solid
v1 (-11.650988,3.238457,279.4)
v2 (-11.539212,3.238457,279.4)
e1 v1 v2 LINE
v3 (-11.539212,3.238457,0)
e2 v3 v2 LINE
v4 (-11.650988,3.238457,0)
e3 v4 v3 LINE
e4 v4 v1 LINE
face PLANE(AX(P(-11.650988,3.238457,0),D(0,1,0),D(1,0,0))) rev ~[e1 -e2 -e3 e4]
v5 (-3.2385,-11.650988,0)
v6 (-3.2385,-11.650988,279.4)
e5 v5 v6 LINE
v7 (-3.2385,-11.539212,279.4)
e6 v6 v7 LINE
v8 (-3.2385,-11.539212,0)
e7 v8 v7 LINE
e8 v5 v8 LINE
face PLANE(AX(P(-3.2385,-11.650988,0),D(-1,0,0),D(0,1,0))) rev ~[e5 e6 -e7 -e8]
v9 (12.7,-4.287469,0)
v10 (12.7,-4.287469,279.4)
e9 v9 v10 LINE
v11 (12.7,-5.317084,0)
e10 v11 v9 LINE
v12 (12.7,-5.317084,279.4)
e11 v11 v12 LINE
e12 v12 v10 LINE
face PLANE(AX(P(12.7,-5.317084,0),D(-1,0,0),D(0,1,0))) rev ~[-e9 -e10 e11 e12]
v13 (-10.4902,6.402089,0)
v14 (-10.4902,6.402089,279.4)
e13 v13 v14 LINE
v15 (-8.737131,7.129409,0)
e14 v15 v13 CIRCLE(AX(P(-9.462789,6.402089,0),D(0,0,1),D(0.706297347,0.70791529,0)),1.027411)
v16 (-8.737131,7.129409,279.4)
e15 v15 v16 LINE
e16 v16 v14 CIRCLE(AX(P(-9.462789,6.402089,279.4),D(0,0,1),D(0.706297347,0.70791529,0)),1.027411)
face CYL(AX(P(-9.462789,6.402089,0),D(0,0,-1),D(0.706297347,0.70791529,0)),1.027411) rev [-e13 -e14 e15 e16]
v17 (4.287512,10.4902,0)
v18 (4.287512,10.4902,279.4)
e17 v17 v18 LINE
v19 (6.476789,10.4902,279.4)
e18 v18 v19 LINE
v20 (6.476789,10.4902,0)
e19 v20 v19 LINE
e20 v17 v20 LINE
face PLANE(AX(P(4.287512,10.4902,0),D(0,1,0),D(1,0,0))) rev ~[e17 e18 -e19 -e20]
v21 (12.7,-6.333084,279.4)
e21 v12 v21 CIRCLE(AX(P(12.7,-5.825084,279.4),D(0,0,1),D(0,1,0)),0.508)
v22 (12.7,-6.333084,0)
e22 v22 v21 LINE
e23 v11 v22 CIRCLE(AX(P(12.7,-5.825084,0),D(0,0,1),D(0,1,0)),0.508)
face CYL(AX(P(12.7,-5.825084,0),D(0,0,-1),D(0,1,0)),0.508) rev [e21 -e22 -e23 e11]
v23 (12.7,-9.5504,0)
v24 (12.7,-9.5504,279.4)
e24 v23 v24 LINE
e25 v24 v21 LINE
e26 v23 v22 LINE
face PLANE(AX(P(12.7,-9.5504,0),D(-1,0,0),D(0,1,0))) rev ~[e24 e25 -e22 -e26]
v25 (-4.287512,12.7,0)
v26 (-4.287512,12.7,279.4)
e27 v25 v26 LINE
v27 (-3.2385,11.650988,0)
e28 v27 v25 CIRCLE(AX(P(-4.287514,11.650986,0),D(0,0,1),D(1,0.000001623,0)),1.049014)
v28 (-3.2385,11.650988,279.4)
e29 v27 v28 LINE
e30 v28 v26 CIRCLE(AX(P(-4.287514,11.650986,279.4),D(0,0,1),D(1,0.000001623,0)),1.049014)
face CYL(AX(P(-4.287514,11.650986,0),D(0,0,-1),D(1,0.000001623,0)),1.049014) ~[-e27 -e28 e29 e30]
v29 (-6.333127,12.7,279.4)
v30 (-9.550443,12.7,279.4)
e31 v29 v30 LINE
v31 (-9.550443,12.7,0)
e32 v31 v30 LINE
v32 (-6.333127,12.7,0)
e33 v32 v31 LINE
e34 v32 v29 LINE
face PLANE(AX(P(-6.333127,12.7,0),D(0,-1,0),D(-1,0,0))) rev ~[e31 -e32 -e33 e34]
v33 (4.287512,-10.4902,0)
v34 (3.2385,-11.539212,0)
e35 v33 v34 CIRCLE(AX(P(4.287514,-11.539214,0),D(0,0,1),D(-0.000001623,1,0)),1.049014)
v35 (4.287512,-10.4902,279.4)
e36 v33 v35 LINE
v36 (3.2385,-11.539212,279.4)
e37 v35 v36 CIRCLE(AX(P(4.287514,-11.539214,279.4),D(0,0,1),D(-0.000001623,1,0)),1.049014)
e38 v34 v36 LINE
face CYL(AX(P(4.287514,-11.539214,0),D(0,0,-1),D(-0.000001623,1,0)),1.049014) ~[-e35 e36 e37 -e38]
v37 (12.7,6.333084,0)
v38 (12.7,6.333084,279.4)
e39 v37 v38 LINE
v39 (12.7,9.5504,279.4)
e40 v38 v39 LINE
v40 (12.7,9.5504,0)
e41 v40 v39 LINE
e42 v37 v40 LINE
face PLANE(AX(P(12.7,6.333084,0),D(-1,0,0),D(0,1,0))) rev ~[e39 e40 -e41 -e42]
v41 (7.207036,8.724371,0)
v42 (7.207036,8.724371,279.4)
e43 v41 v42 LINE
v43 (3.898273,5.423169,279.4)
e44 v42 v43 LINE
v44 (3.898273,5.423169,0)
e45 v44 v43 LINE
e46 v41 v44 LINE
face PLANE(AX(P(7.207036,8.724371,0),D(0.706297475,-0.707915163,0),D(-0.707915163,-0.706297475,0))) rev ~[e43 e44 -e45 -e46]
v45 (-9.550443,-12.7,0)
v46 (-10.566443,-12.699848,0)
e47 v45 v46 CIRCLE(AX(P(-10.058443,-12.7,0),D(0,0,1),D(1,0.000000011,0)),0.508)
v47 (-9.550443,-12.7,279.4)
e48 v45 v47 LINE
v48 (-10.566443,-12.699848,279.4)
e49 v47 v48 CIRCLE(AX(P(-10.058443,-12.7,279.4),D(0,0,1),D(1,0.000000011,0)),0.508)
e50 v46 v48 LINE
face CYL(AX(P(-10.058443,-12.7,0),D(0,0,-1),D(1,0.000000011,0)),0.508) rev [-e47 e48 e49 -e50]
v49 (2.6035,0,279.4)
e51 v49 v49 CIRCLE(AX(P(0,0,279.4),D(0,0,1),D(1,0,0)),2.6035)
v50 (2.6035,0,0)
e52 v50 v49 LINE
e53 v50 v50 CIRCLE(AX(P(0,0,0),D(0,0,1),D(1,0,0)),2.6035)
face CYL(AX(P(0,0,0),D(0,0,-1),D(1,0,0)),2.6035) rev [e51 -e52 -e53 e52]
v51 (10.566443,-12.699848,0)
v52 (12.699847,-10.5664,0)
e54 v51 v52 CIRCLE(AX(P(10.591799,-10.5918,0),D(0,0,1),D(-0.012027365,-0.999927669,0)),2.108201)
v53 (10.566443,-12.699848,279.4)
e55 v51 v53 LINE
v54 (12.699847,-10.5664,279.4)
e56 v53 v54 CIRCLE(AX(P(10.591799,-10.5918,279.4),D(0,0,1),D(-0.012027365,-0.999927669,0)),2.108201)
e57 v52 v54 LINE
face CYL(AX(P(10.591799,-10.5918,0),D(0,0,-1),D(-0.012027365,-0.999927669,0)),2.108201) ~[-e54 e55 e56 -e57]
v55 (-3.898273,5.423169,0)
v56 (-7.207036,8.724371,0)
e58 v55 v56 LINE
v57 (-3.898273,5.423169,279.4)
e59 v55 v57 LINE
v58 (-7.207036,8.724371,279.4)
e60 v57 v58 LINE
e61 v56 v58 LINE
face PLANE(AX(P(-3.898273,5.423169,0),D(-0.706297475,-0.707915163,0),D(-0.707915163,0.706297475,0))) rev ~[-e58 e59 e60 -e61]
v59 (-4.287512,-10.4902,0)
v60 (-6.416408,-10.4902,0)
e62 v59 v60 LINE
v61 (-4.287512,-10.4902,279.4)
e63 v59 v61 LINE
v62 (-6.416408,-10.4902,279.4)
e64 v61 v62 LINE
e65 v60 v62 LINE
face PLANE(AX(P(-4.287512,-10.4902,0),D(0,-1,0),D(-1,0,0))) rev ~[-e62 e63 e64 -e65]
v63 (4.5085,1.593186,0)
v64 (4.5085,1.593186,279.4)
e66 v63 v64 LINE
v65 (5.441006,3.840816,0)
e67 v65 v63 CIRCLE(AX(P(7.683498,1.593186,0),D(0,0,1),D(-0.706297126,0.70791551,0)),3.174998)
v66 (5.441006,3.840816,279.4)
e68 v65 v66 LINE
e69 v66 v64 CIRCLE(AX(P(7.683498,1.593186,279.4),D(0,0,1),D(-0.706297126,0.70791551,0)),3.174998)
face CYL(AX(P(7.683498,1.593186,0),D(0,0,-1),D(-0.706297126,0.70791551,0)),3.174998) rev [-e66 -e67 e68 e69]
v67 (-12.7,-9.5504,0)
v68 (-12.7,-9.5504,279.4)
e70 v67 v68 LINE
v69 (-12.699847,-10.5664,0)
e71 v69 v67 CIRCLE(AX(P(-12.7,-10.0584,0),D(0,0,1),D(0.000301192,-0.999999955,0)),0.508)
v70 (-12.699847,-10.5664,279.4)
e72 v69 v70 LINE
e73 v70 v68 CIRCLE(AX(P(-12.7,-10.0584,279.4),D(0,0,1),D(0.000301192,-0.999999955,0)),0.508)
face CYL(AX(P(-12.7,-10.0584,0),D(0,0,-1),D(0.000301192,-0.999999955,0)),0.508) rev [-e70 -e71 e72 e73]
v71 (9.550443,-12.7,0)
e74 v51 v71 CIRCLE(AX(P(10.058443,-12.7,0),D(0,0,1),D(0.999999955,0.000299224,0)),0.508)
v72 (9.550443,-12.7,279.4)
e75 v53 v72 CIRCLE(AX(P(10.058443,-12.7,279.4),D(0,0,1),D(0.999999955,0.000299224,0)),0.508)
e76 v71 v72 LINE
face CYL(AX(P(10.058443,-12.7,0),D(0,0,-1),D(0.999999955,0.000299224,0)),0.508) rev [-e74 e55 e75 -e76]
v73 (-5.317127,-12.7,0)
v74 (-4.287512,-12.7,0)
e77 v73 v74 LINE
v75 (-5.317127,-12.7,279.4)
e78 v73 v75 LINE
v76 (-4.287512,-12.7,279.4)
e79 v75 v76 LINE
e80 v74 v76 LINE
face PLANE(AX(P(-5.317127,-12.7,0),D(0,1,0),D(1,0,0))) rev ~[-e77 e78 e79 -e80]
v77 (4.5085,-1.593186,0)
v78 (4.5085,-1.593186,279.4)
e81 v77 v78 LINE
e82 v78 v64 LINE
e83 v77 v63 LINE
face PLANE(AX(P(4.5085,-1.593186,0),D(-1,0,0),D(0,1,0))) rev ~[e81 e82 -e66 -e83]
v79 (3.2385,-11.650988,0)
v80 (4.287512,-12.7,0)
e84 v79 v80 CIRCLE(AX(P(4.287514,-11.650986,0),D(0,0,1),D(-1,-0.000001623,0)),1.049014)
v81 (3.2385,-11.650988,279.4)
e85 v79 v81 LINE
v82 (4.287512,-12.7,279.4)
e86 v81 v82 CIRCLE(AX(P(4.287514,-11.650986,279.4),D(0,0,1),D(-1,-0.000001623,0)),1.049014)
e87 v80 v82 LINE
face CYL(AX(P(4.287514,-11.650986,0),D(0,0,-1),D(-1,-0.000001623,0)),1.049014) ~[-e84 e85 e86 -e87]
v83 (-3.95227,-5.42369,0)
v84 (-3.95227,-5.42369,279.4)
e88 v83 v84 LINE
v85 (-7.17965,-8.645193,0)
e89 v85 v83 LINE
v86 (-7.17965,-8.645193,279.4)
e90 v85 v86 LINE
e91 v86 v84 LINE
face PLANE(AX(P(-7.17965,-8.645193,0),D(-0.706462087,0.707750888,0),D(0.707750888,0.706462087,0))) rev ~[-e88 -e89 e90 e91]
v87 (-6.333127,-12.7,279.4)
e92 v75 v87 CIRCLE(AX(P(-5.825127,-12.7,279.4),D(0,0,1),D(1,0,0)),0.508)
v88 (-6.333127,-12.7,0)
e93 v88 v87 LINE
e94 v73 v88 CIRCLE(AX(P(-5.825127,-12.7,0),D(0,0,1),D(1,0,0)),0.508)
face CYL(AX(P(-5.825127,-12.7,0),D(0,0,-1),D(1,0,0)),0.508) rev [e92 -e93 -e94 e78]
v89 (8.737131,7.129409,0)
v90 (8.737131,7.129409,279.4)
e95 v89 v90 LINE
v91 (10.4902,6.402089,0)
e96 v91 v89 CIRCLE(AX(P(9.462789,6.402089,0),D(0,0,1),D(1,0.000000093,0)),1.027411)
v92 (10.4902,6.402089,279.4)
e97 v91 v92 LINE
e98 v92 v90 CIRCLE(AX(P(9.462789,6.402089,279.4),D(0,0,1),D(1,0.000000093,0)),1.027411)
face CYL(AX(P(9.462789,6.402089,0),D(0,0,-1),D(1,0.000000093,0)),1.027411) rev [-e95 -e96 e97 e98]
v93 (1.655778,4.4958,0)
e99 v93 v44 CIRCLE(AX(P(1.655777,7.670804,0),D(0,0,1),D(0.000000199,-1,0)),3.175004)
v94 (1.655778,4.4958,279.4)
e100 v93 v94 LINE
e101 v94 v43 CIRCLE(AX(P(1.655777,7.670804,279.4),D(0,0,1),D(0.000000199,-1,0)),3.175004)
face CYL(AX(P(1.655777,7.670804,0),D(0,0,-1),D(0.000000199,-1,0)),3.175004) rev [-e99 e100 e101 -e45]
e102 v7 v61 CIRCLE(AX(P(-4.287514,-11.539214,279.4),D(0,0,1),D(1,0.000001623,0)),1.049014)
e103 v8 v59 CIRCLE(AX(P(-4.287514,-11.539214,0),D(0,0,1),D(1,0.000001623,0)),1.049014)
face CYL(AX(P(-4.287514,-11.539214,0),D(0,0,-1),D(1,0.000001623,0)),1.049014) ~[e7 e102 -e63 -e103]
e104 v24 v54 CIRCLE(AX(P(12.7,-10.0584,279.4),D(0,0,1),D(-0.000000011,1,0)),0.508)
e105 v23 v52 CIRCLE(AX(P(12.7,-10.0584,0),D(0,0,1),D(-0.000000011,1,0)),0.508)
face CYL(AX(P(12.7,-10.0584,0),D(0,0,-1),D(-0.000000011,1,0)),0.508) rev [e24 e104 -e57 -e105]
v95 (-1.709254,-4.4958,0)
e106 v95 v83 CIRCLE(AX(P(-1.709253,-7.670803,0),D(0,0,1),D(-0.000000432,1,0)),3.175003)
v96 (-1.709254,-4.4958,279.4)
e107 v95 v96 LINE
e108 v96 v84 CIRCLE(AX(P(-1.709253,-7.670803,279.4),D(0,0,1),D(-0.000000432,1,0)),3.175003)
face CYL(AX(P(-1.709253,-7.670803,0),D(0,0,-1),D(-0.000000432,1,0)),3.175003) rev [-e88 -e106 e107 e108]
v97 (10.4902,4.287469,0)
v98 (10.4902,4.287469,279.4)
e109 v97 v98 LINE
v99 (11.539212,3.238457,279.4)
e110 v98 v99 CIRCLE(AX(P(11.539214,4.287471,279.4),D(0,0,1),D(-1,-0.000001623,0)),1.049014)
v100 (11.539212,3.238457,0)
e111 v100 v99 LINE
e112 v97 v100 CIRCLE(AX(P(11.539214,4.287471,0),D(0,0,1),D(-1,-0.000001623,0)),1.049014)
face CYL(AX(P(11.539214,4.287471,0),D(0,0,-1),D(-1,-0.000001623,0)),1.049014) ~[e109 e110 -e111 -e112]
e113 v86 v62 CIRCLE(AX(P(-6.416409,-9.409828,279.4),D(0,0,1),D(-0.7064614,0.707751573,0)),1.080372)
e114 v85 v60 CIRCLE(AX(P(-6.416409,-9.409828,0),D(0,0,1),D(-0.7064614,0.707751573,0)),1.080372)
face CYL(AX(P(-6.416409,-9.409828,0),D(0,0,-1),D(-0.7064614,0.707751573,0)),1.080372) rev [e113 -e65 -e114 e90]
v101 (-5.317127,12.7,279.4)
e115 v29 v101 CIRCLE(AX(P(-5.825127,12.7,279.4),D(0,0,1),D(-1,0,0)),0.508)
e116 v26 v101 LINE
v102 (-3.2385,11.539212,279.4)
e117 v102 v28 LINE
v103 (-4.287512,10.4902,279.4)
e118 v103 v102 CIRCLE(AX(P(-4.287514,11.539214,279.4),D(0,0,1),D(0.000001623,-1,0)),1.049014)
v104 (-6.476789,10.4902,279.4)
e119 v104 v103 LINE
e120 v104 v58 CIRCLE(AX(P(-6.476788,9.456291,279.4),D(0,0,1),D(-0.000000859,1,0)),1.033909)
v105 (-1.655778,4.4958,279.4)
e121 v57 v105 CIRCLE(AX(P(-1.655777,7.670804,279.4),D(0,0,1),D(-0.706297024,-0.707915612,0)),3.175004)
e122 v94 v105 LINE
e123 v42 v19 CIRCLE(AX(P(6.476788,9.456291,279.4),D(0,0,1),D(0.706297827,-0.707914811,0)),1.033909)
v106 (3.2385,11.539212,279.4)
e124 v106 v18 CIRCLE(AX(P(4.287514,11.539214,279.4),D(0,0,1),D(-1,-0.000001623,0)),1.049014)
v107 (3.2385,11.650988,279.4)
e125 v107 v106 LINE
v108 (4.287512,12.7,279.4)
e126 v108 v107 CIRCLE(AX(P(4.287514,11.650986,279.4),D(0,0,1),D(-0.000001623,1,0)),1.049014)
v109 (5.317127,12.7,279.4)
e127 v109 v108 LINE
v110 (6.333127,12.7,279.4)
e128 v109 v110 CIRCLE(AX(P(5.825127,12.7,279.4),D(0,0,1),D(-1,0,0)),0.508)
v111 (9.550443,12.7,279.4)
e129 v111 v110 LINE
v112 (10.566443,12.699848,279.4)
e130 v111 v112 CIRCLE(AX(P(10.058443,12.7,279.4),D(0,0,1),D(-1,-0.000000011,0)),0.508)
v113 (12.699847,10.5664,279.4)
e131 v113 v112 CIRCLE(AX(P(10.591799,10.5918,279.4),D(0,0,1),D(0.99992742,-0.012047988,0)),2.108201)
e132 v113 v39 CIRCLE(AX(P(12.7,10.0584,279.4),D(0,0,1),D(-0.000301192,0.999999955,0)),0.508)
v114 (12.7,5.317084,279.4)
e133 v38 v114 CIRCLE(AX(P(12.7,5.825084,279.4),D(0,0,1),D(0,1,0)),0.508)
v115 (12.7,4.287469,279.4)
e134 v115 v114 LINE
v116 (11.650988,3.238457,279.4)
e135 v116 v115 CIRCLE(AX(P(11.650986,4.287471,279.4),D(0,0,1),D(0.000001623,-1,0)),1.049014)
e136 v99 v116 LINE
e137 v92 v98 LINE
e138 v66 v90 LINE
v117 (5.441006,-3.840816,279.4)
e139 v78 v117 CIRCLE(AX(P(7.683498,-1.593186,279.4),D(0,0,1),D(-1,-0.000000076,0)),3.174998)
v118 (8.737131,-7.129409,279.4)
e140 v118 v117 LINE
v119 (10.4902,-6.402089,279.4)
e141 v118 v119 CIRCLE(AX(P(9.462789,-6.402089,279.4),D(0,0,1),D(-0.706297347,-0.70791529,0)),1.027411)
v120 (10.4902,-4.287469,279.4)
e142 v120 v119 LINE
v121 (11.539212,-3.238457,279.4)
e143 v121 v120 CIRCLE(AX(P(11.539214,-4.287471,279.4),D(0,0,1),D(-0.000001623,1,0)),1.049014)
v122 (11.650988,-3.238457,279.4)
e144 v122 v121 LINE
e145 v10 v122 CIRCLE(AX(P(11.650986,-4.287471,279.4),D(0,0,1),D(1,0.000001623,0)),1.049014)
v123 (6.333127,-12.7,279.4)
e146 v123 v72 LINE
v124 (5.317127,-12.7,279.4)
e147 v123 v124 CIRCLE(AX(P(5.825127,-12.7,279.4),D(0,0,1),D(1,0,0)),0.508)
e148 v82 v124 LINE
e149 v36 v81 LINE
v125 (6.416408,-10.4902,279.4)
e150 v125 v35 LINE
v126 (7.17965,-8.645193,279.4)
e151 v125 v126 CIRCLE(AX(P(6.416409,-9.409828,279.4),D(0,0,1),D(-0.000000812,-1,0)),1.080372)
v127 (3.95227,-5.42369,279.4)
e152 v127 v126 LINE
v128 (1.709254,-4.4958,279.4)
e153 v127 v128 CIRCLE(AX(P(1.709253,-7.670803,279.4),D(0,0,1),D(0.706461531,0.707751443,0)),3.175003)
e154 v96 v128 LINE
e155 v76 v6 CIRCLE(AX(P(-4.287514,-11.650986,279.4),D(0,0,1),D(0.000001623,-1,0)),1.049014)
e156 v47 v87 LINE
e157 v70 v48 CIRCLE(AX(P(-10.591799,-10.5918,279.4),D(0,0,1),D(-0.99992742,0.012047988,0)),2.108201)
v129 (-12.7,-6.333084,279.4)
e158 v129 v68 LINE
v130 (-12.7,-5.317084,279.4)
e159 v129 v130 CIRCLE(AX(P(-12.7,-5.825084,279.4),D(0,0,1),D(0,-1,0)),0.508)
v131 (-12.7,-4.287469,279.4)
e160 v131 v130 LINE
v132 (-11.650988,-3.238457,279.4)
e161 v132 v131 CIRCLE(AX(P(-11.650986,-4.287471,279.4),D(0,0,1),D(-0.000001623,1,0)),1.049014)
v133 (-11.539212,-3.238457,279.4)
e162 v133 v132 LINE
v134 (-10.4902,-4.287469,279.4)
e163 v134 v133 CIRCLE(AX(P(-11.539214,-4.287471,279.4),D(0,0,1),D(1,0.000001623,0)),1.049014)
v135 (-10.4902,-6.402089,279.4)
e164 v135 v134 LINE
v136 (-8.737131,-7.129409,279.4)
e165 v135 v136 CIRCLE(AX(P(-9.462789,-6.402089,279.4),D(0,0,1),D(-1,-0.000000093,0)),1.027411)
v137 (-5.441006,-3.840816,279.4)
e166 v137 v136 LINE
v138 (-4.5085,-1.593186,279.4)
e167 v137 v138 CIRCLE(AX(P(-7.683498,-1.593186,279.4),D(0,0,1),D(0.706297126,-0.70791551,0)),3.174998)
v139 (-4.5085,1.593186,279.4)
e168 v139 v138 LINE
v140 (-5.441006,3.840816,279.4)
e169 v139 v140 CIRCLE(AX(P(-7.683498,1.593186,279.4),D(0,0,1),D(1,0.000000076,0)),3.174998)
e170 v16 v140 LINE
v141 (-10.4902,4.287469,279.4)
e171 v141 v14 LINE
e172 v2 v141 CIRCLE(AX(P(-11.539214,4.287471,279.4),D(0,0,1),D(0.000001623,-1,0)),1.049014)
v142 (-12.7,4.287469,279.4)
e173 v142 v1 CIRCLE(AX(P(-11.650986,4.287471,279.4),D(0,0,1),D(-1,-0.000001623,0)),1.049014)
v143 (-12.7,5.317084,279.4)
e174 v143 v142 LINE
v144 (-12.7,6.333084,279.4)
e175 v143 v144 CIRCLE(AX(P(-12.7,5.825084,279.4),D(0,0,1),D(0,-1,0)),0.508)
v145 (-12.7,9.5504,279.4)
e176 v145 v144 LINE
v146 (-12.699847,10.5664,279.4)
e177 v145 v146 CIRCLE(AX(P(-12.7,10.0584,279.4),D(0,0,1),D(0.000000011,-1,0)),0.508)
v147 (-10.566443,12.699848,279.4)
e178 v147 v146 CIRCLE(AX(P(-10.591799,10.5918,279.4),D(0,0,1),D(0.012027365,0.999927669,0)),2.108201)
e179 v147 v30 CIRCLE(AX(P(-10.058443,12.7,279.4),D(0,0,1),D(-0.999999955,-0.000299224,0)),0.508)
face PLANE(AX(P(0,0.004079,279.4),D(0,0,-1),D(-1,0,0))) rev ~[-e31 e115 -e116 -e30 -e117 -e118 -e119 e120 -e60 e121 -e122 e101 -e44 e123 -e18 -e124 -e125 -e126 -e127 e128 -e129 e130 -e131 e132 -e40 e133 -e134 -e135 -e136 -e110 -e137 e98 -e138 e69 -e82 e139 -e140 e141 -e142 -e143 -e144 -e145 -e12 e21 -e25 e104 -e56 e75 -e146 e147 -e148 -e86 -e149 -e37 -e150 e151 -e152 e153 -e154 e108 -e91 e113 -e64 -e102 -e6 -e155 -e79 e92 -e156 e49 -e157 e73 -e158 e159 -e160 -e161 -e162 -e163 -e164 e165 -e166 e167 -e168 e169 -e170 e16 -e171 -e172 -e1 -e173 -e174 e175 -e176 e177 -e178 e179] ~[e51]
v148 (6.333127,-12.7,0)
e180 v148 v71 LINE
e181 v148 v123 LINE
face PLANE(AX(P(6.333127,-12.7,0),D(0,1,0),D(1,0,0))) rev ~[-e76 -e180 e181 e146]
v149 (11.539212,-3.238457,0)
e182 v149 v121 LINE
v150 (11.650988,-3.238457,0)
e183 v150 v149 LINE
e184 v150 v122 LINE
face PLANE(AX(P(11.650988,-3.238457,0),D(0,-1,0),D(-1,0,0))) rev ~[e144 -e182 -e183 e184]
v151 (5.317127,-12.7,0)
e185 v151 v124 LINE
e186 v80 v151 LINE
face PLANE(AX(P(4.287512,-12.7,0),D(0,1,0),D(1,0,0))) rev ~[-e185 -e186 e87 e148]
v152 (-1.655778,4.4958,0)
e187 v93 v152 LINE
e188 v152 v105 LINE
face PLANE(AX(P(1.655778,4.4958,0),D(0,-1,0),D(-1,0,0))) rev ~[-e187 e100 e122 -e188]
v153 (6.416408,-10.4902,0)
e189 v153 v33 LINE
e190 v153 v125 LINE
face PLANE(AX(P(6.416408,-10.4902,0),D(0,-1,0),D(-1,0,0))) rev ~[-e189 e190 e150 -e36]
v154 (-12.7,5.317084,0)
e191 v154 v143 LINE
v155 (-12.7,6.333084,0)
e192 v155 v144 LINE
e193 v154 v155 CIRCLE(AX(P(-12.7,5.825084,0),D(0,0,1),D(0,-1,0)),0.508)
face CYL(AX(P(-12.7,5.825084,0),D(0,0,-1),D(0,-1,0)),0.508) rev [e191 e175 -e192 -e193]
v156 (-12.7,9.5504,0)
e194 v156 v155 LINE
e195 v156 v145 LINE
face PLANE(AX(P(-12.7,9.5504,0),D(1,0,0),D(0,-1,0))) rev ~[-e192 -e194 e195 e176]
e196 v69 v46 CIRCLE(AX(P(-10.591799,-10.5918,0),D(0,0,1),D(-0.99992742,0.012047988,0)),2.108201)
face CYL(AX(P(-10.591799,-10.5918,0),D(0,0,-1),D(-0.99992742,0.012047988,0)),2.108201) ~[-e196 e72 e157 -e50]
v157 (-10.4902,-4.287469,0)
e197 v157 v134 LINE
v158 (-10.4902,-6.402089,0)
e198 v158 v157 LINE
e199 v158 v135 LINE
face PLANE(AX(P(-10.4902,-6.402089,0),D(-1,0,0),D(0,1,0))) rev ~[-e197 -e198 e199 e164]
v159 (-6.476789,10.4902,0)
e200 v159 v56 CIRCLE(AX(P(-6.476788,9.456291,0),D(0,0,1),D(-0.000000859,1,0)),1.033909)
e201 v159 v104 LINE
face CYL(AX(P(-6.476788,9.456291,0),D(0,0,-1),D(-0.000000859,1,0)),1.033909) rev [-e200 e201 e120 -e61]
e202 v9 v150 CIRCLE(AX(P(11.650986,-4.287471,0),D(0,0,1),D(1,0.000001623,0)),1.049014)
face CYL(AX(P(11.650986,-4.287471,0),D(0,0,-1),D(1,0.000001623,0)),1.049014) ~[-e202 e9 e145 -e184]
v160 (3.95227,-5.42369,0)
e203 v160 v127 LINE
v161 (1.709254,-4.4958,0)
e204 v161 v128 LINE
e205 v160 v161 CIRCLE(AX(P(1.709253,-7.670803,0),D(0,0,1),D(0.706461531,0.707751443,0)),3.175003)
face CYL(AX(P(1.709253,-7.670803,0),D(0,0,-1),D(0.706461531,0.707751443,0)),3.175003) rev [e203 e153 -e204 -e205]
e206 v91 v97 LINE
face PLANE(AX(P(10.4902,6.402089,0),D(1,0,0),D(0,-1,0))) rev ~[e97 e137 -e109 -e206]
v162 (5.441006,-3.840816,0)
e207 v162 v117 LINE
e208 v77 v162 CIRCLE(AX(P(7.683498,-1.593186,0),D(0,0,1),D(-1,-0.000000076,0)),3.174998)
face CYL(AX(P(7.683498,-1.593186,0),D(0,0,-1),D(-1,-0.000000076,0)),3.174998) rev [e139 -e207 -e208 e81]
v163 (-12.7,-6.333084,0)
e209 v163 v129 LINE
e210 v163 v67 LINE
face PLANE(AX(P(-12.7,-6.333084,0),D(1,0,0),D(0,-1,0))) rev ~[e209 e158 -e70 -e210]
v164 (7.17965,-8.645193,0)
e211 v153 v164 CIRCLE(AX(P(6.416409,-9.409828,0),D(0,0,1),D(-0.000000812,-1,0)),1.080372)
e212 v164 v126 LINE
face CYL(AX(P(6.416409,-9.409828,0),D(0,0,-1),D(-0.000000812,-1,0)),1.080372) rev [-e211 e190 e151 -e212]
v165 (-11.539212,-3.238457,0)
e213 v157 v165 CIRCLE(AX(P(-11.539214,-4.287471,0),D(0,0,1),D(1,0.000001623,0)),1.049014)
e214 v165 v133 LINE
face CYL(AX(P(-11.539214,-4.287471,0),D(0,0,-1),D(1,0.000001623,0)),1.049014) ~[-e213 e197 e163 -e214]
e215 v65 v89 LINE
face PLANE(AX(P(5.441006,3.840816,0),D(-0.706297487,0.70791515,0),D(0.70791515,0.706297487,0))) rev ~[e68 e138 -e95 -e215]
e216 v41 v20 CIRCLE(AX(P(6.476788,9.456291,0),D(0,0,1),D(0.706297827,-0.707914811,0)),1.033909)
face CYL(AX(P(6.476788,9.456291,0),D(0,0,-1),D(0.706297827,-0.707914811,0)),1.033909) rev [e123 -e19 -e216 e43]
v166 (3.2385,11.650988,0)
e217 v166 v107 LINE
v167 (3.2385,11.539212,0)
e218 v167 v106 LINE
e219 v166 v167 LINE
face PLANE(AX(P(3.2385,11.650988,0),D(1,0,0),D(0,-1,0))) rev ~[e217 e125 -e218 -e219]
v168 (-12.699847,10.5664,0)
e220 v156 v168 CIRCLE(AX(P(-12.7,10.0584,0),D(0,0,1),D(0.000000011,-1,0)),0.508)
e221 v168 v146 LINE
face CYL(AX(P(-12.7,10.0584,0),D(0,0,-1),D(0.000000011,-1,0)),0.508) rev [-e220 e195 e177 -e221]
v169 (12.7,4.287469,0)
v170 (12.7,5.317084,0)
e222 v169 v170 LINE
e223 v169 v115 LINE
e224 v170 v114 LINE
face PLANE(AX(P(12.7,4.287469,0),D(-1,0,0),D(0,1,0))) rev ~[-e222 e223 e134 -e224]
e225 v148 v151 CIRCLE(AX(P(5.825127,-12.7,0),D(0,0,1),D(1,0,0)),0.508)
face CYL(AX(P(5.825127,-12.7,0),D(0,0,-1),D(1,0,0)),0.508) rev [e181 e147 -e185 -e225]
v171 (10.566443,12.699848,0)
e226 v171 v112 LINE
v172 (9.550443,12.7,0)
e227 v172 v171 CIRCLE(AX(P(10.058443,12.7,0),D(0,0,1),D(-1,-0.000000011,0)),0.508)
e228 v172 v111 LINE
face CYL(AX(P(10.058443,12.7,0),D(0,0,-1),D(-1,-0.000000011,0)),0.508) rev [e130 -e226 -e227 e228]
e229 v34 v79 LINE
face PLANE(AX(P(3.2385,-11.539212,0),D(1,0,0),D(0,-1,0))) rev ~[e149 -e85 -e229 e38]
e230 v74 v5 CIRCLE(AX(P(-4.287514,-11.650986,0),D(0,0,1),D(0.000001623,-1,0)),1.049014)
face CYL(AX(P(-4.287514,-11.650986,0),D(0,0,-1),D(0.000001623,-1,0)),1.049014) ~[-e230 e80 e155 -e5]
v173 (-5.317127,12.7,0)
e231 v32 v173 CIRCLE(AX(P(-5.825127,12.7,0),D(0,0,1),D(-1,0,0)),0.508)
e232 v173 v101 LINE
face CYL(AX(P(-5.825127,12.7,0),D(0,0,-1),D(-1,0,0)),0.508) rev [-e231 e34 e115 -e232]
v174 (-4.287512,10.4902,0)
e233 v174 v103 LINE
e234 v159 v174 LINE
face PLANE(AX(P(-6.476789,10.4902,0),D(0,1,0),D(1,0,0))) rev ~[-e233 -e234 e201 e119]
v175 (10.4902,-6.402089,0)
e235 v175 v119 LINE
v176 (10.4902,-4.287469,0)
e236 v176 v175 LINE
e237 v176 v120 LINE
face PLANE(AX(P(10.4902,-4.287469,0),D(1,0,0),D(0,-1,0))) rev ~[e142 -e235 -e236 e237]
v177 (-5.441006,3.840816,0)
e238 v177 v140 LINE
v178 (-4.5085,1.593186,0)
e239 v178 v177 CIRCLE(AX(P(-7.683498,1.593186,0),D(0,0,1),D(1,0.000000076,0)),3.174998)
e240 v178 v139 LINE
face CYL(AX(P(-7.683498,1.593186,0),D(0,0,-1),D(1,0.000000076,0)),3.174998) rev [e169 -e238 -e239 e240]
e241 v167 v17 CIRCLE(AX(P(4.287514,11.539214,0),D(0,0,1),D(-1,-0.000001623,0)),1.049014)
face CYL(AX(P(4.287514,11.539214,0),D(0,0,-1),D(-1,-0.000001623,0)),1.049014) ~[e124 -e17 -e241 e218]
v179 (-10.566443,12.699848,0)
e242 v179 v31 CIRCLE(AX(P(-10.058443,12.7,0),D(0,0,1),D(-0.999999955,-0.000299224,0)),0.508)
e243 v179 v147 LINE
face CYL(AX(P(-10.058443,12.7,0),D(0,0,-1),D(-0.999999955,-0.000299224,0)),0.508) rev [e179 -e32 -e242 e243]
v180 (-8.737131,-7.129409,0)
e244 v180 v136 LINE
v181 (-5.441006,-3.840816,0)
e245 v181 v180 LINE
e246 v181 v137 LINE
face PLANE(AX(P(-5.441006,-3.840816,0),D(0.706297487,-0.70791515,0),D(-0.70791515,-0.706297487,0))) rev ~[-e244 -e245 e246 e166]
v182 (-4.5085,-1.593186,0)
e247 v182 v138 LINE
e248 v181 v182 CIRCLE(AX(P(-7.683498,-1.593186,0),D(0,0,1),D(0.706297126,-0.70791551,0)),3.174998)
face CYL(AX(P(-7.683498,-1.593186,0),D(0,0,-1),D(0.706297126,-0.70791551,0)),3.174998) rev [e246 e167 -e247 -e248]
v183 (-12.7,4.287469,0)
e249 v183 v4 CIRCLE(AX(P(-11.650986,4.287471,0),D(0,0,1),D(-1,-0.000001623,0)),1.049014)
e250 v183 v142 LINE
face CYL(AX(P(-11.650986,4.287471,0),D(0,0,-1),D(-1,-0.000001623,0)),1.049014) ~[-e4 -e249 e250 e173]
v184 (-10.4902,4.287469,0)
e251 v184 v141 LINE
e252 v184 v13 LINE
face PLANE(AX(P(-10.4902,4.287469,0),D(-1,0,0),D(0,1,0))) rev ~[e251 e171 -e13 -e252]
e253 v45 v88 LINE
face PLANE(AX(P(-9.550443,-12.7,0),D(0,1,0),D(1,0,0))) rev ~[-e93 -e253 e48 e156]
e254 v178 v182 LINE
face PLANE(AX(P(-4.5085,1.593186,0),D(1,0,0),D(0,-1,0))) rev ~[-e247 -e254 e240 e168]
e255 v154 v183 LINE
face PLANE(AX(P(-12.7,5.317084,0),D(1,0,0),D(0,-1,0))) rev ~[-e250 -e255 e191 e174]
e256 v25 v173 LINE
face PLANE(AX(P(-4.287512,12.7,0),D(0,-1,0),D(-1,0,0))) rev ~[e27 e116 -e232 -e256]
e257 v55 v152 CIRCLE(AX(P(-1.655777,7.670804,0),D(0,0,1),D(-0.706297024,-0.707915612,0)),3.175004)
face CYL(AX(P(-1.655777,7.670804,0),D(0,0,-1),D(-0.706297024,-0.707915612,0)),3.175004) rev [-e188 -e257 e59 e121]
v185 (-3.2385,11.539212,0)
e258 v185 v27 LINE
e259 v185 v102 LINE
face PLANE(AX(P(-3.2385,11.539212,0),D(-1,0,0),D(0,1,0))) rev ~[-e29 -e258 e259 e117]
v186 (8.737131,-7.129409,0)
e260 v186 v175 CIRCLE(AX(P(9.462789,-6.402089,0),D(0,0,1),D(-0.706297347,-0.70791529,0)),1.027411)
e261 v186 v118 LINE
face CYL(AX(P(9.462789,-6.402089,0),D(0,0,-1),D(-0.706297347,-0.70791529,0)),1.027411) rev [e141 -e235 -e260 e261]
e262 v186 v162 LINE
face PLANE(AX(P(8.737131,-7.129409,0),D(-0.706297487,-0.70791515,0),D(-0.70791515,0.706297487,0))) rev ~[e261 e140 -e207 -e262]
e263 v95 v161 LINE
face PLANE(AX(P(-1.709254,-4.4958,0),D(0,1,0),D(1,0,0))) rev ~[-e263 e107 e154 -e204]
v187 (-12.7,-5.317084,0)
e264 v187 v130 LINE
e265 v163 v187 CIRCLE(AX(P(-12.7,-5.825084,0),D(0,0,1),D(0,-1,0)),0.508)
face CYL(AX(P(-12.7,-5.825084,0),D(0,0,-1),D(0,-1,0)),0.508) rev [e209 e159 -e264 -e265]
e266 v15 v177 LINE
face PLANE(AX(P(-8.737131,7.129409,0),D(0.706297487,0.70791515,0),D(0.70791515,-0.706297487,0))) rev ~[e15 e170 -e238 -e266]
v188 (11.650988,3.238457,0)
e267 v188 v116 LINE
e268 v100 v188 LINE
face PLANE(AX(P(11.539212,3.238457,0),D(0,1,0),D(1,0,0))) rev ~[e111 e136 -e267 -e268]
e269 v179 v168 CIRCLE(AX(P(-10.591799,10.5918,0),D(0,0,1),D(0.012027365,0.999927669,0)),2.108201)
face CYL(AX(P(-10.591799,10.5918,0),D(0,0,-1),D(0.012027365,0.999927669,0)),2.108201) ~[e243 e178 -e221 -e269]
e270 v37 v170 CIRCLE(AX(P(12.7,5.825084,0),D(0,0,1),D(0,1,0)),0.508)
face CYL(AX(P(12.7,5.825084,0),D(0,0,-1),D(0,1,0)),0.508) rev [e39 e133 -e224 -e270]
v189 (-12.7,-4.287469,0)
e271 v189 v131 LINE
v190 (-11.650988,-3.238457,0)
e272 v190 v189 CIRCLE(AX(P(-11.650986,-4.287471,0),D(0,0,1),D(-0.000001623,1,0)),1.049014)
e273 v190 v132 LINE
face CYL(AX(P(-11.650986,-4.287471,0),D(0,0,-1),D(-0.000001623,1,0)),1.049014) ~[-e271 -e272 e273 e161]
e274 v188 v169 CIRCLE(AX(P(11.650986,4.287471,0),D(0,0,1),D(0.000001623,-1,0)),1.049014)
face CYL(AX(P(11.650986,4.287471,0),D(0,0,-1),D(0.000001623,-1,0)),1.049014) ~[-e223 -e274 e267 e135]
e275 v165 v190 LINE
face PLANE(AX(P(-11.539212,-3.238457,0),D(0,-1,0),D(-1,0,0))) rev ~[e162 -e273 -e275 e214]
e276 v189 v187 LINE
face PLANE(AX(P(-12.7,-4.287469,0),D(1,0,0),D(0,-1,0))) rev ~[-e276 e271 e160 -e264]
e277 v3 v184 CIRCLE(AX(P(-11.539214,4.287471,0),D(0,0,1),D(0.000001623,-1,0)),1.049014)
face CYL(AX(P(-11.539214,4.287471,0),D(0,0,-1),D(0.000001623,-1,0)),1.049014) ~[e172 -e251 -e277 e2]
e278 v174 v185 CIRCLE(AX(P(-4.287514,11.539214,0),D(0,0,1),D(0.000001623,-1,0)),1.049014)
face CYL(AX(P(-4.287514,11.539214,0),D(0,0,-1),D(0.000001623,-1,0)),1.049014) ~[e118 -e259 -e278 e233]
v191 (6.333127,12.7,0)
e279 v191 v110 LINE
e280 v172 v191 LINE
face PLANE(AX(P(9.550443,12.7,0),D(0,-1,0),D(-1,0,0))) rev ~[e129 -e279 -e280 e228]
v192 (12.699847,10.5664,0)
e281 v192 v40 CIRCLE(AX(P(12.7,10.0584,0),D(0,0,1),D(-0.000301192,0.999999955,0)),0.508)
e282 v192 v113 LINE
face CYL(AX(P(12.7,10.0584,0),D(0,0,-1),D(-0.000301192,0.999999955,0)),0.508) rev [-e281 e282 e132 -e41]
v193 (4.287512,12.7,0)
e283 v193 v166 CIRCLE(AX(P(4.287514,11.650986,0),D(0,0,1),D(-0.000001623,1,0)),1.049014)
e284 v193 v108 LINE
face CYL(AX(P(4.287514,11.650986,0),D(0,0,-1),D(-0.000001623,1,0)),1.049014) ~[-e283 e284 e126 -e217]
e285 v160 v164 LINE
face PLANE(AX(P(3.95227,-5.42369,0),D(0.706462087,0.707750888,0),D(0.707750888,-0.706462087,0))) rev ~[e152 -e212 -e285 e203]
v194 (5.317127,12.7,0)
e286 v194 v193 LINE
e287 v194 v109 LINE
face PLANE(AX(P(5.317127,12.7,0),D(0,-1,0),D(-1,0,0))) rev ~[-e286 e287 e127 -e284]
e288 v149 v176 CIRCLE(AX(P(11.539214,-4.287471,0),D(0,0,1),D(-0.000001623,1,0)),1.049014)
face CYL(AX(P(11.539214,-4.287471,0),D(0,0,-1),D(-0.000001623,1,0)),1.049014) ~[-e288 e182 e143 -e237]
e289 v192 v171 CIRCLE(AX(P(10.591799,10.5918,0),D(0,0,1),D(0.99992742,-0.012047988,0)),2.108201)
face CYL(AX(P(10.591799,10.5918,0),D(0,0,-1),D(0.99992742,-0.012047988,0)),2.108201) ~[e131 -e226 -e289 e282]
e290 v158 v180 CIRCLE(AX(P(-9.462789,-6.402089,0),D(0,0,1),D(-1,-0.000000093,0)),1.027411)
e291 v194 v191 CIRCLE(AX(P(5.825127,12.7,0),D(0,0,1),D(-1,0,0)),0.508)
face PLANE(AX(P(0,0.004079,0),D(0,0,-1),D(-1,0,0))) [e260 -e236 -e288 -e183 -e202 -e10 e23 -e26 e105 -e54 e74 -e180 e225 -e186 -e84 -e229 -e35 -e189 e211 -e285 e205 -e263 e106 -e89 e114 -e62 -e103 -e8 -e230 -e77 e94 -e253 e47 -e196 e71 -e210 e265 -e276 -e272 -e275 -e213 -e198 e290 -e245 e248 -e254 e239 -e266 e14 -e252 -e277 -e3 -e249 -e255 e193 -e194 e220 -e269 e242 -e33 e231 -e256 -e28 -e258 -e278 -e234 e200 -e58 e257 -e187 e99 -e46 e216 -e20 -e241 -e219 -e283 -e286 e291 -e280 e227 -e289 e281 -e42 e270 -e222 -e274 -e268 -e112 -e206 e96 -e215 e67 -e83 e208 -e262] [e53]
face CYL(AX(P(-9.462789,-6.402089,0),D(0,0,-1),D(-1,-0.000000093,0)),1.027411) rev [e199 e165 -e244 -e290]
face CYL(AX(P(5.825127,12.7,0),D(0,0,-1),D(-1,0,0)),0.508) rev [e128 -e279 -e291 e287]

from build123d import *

# Parameters (mm, degrees)
SKETCH097_R   = 2.6035
EXTRUDE_DEPTH = 279.4


with BuildPart() as part:
    # Sketch097 → Extrude (new body)
    with BuildSketch(Plane.XY):
        with BuildLine():
            ThreePointArc((12.7, 6.333084), (12.192, 5.825084), (12.7, 5.317084))
            Line((12.7, 4.287469), (12.7, 5.317084))
            ThreePointArc((11.650988, 3.238457), (12.392751, 3.545706), (12.7, 4.287469))
            Line((11.539212, 3.238457), (11.650988, 3.238457))
            ThreePointArc((10.4902, 4.287469), (10.797449, 3.545706), (11.539212, 3.238457))
            Line((10.4902, 6.402089), (10.4902, 4.287469))
            ThreePointArc((10.4902, 6.402089), (9.856505, 7.351068), (8.737131, 7.129409))
            Line((5.441006, 3.840816), (8.737131, 7.129409))
            ThreePointArc((5.441006, 3.840816), (4.750878, 2.809883), (4.5085, 1.593186))
            Line((4.5085, -1.593186), (4.5085, 1.593186))
            ThreePointArc((4.5085, -1.593186), (4.750878, -2.809883), (5.441006, -3.840816))
            Line((8.737131, -7.129409), (5.441006, -3.840816))
            ThreePointArc((8.737131, -7.129409), (9.856505, -7.351068), (10.4902, -6.402089))
            Line((10.4902, -4.287469), (10.4902, -6.402089))
            ThreePointArc((11.539212, -3.238457), (10.797449, -3.545706), (10.4902, -4.287469))
            Line((11.650988, -3.238457), (11.539212, -3.238457))
            ThreePointArc((12.7, -4.287469), (12.392751, -3.545706), (11.650988, -3.238457))
            Line((12.7, -5.317084), (12.7, -4.287469))
            ThreePointArc((12.7, -5.317084), (12.192, -5.825084), (12.7, -6.333084))
            Line((12.7, -9.5504), (12.7, -6.333084))
            ThreePointArc((12.7, -9.5504), (12.192, -10.058323), (12.699847, -10.5664))
            ThreePointArc((10.566443, -12.699848), (12.082538, -12.082507), (12.699847, -10.5664))
            ThreePointArc((10.566443, -12.699848), (10.058367, -12.192), (9.550443, -12.7))
            Line((6.333127, -12.7), (9.550443, -12.7))
            ThreePointArc((6.333127, -12.7), (5.825127, -12.192), (5.317127, -12.7))
            Line((4.287512, -12.7), (5.317127, -12.7))
            ThreePointArc((3.2385, -11.650988), (3.545749, -12.392751), (4.287512, -12.7))
            Line((3.2385, -11.539212), (3.2385, -11.650988))
            ThreePointArc((4.287512, -10.4902), (3.545749, -10.797449), (3.2385, -11.539212))
            Line((6.416408, -10.4902), (4.287512, -10.4902))
            ThreePointArc((6.416408, -10.4902), (7.414731, -9.822813), (7.17965, -8.645193))
            Line((3.95227, -5.42369), (7.17965, -8.645193))
            ThreePointArc((3.95227, -5.42369), (2.922936, -4.736929), (1.709254, -4.4958))
            Line((-1.709254, -4.4958), (1.709254, -4.4958))
            ThreePointArc((-1.709254, -4.4958), (-2.922936, -4.736929), (-3.95227, -5.42369))
            Line((-7.17965, -8.645193), (-3.95227, -5.42369))
            ThreePointArc((-7.17965, -8.645193), (-7.414731, -9.822813), (-6.416408, -10.4902))
            Line((-4.287512, -10.4902), (-6.416408, -10.4902))
            ThreePointArc((-3.2385, -11.539212), (-3.545749, -10.797449), (-4.287512, -10.4902))
            Line((-3.2385, -11.650988), (-3.2385, -11.539212))
            ThreePointArc((-4.287512, -12.7), (-3.545749, -12.392751), (-3.2385, -11.650988))
            Line((-5.317127, -12.7), (-4.287512, -12.7))
            ThreePointArc((-5.317127, -12.7), (-5.825127, -12.192), (-6.333127, -12.7))
            Line((-9.550443, -12.7), (-6.333127, -12.7))
            ThreePointArc((-9.550443, -12.7), (-10.058367, -12.192), (-10.566443, -12.699848))
            ThreePointArc((-12.699847, -10.5664), (-12.082538, -12.082507), (-10.566443, -12.699848))
            ThreePointArc((-12.699847, -10.5664), (-12.192, -10.058323), (-12.7, -9.5504))
            Line((-12.7, -6.333084), (-12.7, -9.5504))
            ThreePointArc((-12.7, -6.333084), (-12.192, -5.825084), (-12.7, -5.317084))
            Line((-12.7, -4.287469), (-12.7, -5.317084))
            ThreePointArc((-11.650988, -3.238457), (-12.392751, -3.545706), (-12.7, -4.287469))
            Line((-11.539212, -3.238457), (-11.650988, -3.238457))
            ThreePointArc((-10.4902, -4.287469), (-10.797449, -3.545706), (-11.539212, -3.238457))
            Line((-10.4902, -6.402089), (-10.4902, -4.287469))
            ThreePointArc((-10.4902, -6.402089), (-9.856505, -7.351068), (-8.737131, -7.129409))
            Line((-5.441006, -3.840816), (-8.737131, -7.129409))
            ThreePointArc((-5.441006, -3.840816), (-4.750878, -2.809883), (-4.5085, -1.593186))
            Line((-4.5085, 1.593186), (-4.5085, -1.593186))
            ThreePointArc((-4.5085, 1.593186), (-4.750878, 2.809883), (-5.441006, 3.840816))
            Line((-8.737131, 7.129409), (-5.441006, 3.840816))
            ThreePointArc((-8.737131, 7.129409), (-9.856505, 7.351068), (-10.4902, 6.402089))
            Line((-10.4902, 4.287469), (-10.4902, 6.402089))
            ThreePointArc((-11.539212, 3.238457), (-10.797449, 3.545706), (-10.4902, 4.287469))
            Line((-11.650988, 3.238457), (-11.539212, 3.238457))
            ThreePointArc((-12.7, 4.287469), (-12.392751, 3.545706), (-11.650988, 3.238457))
            Line((-12.7, 5.317084), (-12.7, 4.287469))
            ThreePointArc((-12.7, 5.317084), (-12.192, 5.825084), (-12.7, 6.333084))
            Line((-12.7, 9.5504), (-12.7, 6.333084))
            ThreePointArc((-12.7, 9.5504), (-12.192, 10.058323), (-12.699847, 10.5664))
            ThreePointArc((-10.566443, 12.699848), (-12.082538, 12.082507), (-12.699847, 10.5664))
            ThreePointArc((-10.566443, 12.699848), (-10.058367, 12.192), (-9.550443, 12.7))
            Line((-6.333127, 12.7), (-9.550443, 12.7))
            ThreePointArc((-6.333127, 12.7), (-5.825127, 12.192), (-5.317127, 12.7))
            Line((-4.287512, 12.7), (-5.317127, 12.7))
            ThreePointArc((-3.2385, 11.650988), (-3.545749, 12.392751), (-4.287512, 12.7))
            Line((-3.2385, 11.539212), (-3.2385, 11.650988))
            ThreePointArc((-4.287512, 10.4902), (-3.545749, 10.797449), (-3.2385, 11.539212))
            Line((-6.476789, 10.4902), (-4.287512, 10.4902))
            ThreePointArc((-6.476789, 10.4902), (-7.432222, 9.851404), (-7.207036, 8.724371))
            Line((-3.898273, 5.423169), (-7.207036, 8.724371))
            ThreePointArc((-3.898273, 5.423169), (-2.86912, 4.736788), (-1.655778, 4.4958))
            Line((1.655778, 4.4958), (-1.655778, 4.4958))
            ThreePointArc((1.655778, 4.4958), (2.86912, 4.736788), (3.898273, 5.423169))
            Line((7.207036, 8.724371), (3.898273, 5.423169))
            ThreePointArc((7.207036, 8.724371), (7.432222, 9.851404), (6.476789, 10.4902))
            Line((4.287512, 10.4902), (6.476789, 10.4902))
            ThreePointArc((3.2385, 11.539212), (3.545749, 10.797449), (4.287512, 10.4902))
            Line((3.2385, 11.650988), (3.2385, 11.539212))
            ThreePointArc((4.287512, 12.7), (3.545749, 12.392751), (3.2385, 11.650988))
            Line((5.317127, 12.7), (4.287512, 12.7))
            ThreePointArc((5.317127, 12.7), (5.825127, 12.192), (6.333127, 12.7))
            Line((9.550443, 12.7), (6.333127, 12.7))
            ThreePointArc((9.550443, 12.7), (10.058367, 12.192), (10.566443, 12.699848))
            ThreePointArc((12.699847, 10.5664), (12.082538, 12.082507), (10.566443, 12.699848))
            ThreePointArc((12.699847, 10.5664), (12.192, 10.058323), (12.7, 9.5504))
            Line((12.7, 6.333084), (12.7, 9.5504))
        make_face()
        Circle(SKETCH097_R, mode=Mode.SUBTRACT)
    extrude(amount=EXTRUDE_DEPTH)


solid = part.part
